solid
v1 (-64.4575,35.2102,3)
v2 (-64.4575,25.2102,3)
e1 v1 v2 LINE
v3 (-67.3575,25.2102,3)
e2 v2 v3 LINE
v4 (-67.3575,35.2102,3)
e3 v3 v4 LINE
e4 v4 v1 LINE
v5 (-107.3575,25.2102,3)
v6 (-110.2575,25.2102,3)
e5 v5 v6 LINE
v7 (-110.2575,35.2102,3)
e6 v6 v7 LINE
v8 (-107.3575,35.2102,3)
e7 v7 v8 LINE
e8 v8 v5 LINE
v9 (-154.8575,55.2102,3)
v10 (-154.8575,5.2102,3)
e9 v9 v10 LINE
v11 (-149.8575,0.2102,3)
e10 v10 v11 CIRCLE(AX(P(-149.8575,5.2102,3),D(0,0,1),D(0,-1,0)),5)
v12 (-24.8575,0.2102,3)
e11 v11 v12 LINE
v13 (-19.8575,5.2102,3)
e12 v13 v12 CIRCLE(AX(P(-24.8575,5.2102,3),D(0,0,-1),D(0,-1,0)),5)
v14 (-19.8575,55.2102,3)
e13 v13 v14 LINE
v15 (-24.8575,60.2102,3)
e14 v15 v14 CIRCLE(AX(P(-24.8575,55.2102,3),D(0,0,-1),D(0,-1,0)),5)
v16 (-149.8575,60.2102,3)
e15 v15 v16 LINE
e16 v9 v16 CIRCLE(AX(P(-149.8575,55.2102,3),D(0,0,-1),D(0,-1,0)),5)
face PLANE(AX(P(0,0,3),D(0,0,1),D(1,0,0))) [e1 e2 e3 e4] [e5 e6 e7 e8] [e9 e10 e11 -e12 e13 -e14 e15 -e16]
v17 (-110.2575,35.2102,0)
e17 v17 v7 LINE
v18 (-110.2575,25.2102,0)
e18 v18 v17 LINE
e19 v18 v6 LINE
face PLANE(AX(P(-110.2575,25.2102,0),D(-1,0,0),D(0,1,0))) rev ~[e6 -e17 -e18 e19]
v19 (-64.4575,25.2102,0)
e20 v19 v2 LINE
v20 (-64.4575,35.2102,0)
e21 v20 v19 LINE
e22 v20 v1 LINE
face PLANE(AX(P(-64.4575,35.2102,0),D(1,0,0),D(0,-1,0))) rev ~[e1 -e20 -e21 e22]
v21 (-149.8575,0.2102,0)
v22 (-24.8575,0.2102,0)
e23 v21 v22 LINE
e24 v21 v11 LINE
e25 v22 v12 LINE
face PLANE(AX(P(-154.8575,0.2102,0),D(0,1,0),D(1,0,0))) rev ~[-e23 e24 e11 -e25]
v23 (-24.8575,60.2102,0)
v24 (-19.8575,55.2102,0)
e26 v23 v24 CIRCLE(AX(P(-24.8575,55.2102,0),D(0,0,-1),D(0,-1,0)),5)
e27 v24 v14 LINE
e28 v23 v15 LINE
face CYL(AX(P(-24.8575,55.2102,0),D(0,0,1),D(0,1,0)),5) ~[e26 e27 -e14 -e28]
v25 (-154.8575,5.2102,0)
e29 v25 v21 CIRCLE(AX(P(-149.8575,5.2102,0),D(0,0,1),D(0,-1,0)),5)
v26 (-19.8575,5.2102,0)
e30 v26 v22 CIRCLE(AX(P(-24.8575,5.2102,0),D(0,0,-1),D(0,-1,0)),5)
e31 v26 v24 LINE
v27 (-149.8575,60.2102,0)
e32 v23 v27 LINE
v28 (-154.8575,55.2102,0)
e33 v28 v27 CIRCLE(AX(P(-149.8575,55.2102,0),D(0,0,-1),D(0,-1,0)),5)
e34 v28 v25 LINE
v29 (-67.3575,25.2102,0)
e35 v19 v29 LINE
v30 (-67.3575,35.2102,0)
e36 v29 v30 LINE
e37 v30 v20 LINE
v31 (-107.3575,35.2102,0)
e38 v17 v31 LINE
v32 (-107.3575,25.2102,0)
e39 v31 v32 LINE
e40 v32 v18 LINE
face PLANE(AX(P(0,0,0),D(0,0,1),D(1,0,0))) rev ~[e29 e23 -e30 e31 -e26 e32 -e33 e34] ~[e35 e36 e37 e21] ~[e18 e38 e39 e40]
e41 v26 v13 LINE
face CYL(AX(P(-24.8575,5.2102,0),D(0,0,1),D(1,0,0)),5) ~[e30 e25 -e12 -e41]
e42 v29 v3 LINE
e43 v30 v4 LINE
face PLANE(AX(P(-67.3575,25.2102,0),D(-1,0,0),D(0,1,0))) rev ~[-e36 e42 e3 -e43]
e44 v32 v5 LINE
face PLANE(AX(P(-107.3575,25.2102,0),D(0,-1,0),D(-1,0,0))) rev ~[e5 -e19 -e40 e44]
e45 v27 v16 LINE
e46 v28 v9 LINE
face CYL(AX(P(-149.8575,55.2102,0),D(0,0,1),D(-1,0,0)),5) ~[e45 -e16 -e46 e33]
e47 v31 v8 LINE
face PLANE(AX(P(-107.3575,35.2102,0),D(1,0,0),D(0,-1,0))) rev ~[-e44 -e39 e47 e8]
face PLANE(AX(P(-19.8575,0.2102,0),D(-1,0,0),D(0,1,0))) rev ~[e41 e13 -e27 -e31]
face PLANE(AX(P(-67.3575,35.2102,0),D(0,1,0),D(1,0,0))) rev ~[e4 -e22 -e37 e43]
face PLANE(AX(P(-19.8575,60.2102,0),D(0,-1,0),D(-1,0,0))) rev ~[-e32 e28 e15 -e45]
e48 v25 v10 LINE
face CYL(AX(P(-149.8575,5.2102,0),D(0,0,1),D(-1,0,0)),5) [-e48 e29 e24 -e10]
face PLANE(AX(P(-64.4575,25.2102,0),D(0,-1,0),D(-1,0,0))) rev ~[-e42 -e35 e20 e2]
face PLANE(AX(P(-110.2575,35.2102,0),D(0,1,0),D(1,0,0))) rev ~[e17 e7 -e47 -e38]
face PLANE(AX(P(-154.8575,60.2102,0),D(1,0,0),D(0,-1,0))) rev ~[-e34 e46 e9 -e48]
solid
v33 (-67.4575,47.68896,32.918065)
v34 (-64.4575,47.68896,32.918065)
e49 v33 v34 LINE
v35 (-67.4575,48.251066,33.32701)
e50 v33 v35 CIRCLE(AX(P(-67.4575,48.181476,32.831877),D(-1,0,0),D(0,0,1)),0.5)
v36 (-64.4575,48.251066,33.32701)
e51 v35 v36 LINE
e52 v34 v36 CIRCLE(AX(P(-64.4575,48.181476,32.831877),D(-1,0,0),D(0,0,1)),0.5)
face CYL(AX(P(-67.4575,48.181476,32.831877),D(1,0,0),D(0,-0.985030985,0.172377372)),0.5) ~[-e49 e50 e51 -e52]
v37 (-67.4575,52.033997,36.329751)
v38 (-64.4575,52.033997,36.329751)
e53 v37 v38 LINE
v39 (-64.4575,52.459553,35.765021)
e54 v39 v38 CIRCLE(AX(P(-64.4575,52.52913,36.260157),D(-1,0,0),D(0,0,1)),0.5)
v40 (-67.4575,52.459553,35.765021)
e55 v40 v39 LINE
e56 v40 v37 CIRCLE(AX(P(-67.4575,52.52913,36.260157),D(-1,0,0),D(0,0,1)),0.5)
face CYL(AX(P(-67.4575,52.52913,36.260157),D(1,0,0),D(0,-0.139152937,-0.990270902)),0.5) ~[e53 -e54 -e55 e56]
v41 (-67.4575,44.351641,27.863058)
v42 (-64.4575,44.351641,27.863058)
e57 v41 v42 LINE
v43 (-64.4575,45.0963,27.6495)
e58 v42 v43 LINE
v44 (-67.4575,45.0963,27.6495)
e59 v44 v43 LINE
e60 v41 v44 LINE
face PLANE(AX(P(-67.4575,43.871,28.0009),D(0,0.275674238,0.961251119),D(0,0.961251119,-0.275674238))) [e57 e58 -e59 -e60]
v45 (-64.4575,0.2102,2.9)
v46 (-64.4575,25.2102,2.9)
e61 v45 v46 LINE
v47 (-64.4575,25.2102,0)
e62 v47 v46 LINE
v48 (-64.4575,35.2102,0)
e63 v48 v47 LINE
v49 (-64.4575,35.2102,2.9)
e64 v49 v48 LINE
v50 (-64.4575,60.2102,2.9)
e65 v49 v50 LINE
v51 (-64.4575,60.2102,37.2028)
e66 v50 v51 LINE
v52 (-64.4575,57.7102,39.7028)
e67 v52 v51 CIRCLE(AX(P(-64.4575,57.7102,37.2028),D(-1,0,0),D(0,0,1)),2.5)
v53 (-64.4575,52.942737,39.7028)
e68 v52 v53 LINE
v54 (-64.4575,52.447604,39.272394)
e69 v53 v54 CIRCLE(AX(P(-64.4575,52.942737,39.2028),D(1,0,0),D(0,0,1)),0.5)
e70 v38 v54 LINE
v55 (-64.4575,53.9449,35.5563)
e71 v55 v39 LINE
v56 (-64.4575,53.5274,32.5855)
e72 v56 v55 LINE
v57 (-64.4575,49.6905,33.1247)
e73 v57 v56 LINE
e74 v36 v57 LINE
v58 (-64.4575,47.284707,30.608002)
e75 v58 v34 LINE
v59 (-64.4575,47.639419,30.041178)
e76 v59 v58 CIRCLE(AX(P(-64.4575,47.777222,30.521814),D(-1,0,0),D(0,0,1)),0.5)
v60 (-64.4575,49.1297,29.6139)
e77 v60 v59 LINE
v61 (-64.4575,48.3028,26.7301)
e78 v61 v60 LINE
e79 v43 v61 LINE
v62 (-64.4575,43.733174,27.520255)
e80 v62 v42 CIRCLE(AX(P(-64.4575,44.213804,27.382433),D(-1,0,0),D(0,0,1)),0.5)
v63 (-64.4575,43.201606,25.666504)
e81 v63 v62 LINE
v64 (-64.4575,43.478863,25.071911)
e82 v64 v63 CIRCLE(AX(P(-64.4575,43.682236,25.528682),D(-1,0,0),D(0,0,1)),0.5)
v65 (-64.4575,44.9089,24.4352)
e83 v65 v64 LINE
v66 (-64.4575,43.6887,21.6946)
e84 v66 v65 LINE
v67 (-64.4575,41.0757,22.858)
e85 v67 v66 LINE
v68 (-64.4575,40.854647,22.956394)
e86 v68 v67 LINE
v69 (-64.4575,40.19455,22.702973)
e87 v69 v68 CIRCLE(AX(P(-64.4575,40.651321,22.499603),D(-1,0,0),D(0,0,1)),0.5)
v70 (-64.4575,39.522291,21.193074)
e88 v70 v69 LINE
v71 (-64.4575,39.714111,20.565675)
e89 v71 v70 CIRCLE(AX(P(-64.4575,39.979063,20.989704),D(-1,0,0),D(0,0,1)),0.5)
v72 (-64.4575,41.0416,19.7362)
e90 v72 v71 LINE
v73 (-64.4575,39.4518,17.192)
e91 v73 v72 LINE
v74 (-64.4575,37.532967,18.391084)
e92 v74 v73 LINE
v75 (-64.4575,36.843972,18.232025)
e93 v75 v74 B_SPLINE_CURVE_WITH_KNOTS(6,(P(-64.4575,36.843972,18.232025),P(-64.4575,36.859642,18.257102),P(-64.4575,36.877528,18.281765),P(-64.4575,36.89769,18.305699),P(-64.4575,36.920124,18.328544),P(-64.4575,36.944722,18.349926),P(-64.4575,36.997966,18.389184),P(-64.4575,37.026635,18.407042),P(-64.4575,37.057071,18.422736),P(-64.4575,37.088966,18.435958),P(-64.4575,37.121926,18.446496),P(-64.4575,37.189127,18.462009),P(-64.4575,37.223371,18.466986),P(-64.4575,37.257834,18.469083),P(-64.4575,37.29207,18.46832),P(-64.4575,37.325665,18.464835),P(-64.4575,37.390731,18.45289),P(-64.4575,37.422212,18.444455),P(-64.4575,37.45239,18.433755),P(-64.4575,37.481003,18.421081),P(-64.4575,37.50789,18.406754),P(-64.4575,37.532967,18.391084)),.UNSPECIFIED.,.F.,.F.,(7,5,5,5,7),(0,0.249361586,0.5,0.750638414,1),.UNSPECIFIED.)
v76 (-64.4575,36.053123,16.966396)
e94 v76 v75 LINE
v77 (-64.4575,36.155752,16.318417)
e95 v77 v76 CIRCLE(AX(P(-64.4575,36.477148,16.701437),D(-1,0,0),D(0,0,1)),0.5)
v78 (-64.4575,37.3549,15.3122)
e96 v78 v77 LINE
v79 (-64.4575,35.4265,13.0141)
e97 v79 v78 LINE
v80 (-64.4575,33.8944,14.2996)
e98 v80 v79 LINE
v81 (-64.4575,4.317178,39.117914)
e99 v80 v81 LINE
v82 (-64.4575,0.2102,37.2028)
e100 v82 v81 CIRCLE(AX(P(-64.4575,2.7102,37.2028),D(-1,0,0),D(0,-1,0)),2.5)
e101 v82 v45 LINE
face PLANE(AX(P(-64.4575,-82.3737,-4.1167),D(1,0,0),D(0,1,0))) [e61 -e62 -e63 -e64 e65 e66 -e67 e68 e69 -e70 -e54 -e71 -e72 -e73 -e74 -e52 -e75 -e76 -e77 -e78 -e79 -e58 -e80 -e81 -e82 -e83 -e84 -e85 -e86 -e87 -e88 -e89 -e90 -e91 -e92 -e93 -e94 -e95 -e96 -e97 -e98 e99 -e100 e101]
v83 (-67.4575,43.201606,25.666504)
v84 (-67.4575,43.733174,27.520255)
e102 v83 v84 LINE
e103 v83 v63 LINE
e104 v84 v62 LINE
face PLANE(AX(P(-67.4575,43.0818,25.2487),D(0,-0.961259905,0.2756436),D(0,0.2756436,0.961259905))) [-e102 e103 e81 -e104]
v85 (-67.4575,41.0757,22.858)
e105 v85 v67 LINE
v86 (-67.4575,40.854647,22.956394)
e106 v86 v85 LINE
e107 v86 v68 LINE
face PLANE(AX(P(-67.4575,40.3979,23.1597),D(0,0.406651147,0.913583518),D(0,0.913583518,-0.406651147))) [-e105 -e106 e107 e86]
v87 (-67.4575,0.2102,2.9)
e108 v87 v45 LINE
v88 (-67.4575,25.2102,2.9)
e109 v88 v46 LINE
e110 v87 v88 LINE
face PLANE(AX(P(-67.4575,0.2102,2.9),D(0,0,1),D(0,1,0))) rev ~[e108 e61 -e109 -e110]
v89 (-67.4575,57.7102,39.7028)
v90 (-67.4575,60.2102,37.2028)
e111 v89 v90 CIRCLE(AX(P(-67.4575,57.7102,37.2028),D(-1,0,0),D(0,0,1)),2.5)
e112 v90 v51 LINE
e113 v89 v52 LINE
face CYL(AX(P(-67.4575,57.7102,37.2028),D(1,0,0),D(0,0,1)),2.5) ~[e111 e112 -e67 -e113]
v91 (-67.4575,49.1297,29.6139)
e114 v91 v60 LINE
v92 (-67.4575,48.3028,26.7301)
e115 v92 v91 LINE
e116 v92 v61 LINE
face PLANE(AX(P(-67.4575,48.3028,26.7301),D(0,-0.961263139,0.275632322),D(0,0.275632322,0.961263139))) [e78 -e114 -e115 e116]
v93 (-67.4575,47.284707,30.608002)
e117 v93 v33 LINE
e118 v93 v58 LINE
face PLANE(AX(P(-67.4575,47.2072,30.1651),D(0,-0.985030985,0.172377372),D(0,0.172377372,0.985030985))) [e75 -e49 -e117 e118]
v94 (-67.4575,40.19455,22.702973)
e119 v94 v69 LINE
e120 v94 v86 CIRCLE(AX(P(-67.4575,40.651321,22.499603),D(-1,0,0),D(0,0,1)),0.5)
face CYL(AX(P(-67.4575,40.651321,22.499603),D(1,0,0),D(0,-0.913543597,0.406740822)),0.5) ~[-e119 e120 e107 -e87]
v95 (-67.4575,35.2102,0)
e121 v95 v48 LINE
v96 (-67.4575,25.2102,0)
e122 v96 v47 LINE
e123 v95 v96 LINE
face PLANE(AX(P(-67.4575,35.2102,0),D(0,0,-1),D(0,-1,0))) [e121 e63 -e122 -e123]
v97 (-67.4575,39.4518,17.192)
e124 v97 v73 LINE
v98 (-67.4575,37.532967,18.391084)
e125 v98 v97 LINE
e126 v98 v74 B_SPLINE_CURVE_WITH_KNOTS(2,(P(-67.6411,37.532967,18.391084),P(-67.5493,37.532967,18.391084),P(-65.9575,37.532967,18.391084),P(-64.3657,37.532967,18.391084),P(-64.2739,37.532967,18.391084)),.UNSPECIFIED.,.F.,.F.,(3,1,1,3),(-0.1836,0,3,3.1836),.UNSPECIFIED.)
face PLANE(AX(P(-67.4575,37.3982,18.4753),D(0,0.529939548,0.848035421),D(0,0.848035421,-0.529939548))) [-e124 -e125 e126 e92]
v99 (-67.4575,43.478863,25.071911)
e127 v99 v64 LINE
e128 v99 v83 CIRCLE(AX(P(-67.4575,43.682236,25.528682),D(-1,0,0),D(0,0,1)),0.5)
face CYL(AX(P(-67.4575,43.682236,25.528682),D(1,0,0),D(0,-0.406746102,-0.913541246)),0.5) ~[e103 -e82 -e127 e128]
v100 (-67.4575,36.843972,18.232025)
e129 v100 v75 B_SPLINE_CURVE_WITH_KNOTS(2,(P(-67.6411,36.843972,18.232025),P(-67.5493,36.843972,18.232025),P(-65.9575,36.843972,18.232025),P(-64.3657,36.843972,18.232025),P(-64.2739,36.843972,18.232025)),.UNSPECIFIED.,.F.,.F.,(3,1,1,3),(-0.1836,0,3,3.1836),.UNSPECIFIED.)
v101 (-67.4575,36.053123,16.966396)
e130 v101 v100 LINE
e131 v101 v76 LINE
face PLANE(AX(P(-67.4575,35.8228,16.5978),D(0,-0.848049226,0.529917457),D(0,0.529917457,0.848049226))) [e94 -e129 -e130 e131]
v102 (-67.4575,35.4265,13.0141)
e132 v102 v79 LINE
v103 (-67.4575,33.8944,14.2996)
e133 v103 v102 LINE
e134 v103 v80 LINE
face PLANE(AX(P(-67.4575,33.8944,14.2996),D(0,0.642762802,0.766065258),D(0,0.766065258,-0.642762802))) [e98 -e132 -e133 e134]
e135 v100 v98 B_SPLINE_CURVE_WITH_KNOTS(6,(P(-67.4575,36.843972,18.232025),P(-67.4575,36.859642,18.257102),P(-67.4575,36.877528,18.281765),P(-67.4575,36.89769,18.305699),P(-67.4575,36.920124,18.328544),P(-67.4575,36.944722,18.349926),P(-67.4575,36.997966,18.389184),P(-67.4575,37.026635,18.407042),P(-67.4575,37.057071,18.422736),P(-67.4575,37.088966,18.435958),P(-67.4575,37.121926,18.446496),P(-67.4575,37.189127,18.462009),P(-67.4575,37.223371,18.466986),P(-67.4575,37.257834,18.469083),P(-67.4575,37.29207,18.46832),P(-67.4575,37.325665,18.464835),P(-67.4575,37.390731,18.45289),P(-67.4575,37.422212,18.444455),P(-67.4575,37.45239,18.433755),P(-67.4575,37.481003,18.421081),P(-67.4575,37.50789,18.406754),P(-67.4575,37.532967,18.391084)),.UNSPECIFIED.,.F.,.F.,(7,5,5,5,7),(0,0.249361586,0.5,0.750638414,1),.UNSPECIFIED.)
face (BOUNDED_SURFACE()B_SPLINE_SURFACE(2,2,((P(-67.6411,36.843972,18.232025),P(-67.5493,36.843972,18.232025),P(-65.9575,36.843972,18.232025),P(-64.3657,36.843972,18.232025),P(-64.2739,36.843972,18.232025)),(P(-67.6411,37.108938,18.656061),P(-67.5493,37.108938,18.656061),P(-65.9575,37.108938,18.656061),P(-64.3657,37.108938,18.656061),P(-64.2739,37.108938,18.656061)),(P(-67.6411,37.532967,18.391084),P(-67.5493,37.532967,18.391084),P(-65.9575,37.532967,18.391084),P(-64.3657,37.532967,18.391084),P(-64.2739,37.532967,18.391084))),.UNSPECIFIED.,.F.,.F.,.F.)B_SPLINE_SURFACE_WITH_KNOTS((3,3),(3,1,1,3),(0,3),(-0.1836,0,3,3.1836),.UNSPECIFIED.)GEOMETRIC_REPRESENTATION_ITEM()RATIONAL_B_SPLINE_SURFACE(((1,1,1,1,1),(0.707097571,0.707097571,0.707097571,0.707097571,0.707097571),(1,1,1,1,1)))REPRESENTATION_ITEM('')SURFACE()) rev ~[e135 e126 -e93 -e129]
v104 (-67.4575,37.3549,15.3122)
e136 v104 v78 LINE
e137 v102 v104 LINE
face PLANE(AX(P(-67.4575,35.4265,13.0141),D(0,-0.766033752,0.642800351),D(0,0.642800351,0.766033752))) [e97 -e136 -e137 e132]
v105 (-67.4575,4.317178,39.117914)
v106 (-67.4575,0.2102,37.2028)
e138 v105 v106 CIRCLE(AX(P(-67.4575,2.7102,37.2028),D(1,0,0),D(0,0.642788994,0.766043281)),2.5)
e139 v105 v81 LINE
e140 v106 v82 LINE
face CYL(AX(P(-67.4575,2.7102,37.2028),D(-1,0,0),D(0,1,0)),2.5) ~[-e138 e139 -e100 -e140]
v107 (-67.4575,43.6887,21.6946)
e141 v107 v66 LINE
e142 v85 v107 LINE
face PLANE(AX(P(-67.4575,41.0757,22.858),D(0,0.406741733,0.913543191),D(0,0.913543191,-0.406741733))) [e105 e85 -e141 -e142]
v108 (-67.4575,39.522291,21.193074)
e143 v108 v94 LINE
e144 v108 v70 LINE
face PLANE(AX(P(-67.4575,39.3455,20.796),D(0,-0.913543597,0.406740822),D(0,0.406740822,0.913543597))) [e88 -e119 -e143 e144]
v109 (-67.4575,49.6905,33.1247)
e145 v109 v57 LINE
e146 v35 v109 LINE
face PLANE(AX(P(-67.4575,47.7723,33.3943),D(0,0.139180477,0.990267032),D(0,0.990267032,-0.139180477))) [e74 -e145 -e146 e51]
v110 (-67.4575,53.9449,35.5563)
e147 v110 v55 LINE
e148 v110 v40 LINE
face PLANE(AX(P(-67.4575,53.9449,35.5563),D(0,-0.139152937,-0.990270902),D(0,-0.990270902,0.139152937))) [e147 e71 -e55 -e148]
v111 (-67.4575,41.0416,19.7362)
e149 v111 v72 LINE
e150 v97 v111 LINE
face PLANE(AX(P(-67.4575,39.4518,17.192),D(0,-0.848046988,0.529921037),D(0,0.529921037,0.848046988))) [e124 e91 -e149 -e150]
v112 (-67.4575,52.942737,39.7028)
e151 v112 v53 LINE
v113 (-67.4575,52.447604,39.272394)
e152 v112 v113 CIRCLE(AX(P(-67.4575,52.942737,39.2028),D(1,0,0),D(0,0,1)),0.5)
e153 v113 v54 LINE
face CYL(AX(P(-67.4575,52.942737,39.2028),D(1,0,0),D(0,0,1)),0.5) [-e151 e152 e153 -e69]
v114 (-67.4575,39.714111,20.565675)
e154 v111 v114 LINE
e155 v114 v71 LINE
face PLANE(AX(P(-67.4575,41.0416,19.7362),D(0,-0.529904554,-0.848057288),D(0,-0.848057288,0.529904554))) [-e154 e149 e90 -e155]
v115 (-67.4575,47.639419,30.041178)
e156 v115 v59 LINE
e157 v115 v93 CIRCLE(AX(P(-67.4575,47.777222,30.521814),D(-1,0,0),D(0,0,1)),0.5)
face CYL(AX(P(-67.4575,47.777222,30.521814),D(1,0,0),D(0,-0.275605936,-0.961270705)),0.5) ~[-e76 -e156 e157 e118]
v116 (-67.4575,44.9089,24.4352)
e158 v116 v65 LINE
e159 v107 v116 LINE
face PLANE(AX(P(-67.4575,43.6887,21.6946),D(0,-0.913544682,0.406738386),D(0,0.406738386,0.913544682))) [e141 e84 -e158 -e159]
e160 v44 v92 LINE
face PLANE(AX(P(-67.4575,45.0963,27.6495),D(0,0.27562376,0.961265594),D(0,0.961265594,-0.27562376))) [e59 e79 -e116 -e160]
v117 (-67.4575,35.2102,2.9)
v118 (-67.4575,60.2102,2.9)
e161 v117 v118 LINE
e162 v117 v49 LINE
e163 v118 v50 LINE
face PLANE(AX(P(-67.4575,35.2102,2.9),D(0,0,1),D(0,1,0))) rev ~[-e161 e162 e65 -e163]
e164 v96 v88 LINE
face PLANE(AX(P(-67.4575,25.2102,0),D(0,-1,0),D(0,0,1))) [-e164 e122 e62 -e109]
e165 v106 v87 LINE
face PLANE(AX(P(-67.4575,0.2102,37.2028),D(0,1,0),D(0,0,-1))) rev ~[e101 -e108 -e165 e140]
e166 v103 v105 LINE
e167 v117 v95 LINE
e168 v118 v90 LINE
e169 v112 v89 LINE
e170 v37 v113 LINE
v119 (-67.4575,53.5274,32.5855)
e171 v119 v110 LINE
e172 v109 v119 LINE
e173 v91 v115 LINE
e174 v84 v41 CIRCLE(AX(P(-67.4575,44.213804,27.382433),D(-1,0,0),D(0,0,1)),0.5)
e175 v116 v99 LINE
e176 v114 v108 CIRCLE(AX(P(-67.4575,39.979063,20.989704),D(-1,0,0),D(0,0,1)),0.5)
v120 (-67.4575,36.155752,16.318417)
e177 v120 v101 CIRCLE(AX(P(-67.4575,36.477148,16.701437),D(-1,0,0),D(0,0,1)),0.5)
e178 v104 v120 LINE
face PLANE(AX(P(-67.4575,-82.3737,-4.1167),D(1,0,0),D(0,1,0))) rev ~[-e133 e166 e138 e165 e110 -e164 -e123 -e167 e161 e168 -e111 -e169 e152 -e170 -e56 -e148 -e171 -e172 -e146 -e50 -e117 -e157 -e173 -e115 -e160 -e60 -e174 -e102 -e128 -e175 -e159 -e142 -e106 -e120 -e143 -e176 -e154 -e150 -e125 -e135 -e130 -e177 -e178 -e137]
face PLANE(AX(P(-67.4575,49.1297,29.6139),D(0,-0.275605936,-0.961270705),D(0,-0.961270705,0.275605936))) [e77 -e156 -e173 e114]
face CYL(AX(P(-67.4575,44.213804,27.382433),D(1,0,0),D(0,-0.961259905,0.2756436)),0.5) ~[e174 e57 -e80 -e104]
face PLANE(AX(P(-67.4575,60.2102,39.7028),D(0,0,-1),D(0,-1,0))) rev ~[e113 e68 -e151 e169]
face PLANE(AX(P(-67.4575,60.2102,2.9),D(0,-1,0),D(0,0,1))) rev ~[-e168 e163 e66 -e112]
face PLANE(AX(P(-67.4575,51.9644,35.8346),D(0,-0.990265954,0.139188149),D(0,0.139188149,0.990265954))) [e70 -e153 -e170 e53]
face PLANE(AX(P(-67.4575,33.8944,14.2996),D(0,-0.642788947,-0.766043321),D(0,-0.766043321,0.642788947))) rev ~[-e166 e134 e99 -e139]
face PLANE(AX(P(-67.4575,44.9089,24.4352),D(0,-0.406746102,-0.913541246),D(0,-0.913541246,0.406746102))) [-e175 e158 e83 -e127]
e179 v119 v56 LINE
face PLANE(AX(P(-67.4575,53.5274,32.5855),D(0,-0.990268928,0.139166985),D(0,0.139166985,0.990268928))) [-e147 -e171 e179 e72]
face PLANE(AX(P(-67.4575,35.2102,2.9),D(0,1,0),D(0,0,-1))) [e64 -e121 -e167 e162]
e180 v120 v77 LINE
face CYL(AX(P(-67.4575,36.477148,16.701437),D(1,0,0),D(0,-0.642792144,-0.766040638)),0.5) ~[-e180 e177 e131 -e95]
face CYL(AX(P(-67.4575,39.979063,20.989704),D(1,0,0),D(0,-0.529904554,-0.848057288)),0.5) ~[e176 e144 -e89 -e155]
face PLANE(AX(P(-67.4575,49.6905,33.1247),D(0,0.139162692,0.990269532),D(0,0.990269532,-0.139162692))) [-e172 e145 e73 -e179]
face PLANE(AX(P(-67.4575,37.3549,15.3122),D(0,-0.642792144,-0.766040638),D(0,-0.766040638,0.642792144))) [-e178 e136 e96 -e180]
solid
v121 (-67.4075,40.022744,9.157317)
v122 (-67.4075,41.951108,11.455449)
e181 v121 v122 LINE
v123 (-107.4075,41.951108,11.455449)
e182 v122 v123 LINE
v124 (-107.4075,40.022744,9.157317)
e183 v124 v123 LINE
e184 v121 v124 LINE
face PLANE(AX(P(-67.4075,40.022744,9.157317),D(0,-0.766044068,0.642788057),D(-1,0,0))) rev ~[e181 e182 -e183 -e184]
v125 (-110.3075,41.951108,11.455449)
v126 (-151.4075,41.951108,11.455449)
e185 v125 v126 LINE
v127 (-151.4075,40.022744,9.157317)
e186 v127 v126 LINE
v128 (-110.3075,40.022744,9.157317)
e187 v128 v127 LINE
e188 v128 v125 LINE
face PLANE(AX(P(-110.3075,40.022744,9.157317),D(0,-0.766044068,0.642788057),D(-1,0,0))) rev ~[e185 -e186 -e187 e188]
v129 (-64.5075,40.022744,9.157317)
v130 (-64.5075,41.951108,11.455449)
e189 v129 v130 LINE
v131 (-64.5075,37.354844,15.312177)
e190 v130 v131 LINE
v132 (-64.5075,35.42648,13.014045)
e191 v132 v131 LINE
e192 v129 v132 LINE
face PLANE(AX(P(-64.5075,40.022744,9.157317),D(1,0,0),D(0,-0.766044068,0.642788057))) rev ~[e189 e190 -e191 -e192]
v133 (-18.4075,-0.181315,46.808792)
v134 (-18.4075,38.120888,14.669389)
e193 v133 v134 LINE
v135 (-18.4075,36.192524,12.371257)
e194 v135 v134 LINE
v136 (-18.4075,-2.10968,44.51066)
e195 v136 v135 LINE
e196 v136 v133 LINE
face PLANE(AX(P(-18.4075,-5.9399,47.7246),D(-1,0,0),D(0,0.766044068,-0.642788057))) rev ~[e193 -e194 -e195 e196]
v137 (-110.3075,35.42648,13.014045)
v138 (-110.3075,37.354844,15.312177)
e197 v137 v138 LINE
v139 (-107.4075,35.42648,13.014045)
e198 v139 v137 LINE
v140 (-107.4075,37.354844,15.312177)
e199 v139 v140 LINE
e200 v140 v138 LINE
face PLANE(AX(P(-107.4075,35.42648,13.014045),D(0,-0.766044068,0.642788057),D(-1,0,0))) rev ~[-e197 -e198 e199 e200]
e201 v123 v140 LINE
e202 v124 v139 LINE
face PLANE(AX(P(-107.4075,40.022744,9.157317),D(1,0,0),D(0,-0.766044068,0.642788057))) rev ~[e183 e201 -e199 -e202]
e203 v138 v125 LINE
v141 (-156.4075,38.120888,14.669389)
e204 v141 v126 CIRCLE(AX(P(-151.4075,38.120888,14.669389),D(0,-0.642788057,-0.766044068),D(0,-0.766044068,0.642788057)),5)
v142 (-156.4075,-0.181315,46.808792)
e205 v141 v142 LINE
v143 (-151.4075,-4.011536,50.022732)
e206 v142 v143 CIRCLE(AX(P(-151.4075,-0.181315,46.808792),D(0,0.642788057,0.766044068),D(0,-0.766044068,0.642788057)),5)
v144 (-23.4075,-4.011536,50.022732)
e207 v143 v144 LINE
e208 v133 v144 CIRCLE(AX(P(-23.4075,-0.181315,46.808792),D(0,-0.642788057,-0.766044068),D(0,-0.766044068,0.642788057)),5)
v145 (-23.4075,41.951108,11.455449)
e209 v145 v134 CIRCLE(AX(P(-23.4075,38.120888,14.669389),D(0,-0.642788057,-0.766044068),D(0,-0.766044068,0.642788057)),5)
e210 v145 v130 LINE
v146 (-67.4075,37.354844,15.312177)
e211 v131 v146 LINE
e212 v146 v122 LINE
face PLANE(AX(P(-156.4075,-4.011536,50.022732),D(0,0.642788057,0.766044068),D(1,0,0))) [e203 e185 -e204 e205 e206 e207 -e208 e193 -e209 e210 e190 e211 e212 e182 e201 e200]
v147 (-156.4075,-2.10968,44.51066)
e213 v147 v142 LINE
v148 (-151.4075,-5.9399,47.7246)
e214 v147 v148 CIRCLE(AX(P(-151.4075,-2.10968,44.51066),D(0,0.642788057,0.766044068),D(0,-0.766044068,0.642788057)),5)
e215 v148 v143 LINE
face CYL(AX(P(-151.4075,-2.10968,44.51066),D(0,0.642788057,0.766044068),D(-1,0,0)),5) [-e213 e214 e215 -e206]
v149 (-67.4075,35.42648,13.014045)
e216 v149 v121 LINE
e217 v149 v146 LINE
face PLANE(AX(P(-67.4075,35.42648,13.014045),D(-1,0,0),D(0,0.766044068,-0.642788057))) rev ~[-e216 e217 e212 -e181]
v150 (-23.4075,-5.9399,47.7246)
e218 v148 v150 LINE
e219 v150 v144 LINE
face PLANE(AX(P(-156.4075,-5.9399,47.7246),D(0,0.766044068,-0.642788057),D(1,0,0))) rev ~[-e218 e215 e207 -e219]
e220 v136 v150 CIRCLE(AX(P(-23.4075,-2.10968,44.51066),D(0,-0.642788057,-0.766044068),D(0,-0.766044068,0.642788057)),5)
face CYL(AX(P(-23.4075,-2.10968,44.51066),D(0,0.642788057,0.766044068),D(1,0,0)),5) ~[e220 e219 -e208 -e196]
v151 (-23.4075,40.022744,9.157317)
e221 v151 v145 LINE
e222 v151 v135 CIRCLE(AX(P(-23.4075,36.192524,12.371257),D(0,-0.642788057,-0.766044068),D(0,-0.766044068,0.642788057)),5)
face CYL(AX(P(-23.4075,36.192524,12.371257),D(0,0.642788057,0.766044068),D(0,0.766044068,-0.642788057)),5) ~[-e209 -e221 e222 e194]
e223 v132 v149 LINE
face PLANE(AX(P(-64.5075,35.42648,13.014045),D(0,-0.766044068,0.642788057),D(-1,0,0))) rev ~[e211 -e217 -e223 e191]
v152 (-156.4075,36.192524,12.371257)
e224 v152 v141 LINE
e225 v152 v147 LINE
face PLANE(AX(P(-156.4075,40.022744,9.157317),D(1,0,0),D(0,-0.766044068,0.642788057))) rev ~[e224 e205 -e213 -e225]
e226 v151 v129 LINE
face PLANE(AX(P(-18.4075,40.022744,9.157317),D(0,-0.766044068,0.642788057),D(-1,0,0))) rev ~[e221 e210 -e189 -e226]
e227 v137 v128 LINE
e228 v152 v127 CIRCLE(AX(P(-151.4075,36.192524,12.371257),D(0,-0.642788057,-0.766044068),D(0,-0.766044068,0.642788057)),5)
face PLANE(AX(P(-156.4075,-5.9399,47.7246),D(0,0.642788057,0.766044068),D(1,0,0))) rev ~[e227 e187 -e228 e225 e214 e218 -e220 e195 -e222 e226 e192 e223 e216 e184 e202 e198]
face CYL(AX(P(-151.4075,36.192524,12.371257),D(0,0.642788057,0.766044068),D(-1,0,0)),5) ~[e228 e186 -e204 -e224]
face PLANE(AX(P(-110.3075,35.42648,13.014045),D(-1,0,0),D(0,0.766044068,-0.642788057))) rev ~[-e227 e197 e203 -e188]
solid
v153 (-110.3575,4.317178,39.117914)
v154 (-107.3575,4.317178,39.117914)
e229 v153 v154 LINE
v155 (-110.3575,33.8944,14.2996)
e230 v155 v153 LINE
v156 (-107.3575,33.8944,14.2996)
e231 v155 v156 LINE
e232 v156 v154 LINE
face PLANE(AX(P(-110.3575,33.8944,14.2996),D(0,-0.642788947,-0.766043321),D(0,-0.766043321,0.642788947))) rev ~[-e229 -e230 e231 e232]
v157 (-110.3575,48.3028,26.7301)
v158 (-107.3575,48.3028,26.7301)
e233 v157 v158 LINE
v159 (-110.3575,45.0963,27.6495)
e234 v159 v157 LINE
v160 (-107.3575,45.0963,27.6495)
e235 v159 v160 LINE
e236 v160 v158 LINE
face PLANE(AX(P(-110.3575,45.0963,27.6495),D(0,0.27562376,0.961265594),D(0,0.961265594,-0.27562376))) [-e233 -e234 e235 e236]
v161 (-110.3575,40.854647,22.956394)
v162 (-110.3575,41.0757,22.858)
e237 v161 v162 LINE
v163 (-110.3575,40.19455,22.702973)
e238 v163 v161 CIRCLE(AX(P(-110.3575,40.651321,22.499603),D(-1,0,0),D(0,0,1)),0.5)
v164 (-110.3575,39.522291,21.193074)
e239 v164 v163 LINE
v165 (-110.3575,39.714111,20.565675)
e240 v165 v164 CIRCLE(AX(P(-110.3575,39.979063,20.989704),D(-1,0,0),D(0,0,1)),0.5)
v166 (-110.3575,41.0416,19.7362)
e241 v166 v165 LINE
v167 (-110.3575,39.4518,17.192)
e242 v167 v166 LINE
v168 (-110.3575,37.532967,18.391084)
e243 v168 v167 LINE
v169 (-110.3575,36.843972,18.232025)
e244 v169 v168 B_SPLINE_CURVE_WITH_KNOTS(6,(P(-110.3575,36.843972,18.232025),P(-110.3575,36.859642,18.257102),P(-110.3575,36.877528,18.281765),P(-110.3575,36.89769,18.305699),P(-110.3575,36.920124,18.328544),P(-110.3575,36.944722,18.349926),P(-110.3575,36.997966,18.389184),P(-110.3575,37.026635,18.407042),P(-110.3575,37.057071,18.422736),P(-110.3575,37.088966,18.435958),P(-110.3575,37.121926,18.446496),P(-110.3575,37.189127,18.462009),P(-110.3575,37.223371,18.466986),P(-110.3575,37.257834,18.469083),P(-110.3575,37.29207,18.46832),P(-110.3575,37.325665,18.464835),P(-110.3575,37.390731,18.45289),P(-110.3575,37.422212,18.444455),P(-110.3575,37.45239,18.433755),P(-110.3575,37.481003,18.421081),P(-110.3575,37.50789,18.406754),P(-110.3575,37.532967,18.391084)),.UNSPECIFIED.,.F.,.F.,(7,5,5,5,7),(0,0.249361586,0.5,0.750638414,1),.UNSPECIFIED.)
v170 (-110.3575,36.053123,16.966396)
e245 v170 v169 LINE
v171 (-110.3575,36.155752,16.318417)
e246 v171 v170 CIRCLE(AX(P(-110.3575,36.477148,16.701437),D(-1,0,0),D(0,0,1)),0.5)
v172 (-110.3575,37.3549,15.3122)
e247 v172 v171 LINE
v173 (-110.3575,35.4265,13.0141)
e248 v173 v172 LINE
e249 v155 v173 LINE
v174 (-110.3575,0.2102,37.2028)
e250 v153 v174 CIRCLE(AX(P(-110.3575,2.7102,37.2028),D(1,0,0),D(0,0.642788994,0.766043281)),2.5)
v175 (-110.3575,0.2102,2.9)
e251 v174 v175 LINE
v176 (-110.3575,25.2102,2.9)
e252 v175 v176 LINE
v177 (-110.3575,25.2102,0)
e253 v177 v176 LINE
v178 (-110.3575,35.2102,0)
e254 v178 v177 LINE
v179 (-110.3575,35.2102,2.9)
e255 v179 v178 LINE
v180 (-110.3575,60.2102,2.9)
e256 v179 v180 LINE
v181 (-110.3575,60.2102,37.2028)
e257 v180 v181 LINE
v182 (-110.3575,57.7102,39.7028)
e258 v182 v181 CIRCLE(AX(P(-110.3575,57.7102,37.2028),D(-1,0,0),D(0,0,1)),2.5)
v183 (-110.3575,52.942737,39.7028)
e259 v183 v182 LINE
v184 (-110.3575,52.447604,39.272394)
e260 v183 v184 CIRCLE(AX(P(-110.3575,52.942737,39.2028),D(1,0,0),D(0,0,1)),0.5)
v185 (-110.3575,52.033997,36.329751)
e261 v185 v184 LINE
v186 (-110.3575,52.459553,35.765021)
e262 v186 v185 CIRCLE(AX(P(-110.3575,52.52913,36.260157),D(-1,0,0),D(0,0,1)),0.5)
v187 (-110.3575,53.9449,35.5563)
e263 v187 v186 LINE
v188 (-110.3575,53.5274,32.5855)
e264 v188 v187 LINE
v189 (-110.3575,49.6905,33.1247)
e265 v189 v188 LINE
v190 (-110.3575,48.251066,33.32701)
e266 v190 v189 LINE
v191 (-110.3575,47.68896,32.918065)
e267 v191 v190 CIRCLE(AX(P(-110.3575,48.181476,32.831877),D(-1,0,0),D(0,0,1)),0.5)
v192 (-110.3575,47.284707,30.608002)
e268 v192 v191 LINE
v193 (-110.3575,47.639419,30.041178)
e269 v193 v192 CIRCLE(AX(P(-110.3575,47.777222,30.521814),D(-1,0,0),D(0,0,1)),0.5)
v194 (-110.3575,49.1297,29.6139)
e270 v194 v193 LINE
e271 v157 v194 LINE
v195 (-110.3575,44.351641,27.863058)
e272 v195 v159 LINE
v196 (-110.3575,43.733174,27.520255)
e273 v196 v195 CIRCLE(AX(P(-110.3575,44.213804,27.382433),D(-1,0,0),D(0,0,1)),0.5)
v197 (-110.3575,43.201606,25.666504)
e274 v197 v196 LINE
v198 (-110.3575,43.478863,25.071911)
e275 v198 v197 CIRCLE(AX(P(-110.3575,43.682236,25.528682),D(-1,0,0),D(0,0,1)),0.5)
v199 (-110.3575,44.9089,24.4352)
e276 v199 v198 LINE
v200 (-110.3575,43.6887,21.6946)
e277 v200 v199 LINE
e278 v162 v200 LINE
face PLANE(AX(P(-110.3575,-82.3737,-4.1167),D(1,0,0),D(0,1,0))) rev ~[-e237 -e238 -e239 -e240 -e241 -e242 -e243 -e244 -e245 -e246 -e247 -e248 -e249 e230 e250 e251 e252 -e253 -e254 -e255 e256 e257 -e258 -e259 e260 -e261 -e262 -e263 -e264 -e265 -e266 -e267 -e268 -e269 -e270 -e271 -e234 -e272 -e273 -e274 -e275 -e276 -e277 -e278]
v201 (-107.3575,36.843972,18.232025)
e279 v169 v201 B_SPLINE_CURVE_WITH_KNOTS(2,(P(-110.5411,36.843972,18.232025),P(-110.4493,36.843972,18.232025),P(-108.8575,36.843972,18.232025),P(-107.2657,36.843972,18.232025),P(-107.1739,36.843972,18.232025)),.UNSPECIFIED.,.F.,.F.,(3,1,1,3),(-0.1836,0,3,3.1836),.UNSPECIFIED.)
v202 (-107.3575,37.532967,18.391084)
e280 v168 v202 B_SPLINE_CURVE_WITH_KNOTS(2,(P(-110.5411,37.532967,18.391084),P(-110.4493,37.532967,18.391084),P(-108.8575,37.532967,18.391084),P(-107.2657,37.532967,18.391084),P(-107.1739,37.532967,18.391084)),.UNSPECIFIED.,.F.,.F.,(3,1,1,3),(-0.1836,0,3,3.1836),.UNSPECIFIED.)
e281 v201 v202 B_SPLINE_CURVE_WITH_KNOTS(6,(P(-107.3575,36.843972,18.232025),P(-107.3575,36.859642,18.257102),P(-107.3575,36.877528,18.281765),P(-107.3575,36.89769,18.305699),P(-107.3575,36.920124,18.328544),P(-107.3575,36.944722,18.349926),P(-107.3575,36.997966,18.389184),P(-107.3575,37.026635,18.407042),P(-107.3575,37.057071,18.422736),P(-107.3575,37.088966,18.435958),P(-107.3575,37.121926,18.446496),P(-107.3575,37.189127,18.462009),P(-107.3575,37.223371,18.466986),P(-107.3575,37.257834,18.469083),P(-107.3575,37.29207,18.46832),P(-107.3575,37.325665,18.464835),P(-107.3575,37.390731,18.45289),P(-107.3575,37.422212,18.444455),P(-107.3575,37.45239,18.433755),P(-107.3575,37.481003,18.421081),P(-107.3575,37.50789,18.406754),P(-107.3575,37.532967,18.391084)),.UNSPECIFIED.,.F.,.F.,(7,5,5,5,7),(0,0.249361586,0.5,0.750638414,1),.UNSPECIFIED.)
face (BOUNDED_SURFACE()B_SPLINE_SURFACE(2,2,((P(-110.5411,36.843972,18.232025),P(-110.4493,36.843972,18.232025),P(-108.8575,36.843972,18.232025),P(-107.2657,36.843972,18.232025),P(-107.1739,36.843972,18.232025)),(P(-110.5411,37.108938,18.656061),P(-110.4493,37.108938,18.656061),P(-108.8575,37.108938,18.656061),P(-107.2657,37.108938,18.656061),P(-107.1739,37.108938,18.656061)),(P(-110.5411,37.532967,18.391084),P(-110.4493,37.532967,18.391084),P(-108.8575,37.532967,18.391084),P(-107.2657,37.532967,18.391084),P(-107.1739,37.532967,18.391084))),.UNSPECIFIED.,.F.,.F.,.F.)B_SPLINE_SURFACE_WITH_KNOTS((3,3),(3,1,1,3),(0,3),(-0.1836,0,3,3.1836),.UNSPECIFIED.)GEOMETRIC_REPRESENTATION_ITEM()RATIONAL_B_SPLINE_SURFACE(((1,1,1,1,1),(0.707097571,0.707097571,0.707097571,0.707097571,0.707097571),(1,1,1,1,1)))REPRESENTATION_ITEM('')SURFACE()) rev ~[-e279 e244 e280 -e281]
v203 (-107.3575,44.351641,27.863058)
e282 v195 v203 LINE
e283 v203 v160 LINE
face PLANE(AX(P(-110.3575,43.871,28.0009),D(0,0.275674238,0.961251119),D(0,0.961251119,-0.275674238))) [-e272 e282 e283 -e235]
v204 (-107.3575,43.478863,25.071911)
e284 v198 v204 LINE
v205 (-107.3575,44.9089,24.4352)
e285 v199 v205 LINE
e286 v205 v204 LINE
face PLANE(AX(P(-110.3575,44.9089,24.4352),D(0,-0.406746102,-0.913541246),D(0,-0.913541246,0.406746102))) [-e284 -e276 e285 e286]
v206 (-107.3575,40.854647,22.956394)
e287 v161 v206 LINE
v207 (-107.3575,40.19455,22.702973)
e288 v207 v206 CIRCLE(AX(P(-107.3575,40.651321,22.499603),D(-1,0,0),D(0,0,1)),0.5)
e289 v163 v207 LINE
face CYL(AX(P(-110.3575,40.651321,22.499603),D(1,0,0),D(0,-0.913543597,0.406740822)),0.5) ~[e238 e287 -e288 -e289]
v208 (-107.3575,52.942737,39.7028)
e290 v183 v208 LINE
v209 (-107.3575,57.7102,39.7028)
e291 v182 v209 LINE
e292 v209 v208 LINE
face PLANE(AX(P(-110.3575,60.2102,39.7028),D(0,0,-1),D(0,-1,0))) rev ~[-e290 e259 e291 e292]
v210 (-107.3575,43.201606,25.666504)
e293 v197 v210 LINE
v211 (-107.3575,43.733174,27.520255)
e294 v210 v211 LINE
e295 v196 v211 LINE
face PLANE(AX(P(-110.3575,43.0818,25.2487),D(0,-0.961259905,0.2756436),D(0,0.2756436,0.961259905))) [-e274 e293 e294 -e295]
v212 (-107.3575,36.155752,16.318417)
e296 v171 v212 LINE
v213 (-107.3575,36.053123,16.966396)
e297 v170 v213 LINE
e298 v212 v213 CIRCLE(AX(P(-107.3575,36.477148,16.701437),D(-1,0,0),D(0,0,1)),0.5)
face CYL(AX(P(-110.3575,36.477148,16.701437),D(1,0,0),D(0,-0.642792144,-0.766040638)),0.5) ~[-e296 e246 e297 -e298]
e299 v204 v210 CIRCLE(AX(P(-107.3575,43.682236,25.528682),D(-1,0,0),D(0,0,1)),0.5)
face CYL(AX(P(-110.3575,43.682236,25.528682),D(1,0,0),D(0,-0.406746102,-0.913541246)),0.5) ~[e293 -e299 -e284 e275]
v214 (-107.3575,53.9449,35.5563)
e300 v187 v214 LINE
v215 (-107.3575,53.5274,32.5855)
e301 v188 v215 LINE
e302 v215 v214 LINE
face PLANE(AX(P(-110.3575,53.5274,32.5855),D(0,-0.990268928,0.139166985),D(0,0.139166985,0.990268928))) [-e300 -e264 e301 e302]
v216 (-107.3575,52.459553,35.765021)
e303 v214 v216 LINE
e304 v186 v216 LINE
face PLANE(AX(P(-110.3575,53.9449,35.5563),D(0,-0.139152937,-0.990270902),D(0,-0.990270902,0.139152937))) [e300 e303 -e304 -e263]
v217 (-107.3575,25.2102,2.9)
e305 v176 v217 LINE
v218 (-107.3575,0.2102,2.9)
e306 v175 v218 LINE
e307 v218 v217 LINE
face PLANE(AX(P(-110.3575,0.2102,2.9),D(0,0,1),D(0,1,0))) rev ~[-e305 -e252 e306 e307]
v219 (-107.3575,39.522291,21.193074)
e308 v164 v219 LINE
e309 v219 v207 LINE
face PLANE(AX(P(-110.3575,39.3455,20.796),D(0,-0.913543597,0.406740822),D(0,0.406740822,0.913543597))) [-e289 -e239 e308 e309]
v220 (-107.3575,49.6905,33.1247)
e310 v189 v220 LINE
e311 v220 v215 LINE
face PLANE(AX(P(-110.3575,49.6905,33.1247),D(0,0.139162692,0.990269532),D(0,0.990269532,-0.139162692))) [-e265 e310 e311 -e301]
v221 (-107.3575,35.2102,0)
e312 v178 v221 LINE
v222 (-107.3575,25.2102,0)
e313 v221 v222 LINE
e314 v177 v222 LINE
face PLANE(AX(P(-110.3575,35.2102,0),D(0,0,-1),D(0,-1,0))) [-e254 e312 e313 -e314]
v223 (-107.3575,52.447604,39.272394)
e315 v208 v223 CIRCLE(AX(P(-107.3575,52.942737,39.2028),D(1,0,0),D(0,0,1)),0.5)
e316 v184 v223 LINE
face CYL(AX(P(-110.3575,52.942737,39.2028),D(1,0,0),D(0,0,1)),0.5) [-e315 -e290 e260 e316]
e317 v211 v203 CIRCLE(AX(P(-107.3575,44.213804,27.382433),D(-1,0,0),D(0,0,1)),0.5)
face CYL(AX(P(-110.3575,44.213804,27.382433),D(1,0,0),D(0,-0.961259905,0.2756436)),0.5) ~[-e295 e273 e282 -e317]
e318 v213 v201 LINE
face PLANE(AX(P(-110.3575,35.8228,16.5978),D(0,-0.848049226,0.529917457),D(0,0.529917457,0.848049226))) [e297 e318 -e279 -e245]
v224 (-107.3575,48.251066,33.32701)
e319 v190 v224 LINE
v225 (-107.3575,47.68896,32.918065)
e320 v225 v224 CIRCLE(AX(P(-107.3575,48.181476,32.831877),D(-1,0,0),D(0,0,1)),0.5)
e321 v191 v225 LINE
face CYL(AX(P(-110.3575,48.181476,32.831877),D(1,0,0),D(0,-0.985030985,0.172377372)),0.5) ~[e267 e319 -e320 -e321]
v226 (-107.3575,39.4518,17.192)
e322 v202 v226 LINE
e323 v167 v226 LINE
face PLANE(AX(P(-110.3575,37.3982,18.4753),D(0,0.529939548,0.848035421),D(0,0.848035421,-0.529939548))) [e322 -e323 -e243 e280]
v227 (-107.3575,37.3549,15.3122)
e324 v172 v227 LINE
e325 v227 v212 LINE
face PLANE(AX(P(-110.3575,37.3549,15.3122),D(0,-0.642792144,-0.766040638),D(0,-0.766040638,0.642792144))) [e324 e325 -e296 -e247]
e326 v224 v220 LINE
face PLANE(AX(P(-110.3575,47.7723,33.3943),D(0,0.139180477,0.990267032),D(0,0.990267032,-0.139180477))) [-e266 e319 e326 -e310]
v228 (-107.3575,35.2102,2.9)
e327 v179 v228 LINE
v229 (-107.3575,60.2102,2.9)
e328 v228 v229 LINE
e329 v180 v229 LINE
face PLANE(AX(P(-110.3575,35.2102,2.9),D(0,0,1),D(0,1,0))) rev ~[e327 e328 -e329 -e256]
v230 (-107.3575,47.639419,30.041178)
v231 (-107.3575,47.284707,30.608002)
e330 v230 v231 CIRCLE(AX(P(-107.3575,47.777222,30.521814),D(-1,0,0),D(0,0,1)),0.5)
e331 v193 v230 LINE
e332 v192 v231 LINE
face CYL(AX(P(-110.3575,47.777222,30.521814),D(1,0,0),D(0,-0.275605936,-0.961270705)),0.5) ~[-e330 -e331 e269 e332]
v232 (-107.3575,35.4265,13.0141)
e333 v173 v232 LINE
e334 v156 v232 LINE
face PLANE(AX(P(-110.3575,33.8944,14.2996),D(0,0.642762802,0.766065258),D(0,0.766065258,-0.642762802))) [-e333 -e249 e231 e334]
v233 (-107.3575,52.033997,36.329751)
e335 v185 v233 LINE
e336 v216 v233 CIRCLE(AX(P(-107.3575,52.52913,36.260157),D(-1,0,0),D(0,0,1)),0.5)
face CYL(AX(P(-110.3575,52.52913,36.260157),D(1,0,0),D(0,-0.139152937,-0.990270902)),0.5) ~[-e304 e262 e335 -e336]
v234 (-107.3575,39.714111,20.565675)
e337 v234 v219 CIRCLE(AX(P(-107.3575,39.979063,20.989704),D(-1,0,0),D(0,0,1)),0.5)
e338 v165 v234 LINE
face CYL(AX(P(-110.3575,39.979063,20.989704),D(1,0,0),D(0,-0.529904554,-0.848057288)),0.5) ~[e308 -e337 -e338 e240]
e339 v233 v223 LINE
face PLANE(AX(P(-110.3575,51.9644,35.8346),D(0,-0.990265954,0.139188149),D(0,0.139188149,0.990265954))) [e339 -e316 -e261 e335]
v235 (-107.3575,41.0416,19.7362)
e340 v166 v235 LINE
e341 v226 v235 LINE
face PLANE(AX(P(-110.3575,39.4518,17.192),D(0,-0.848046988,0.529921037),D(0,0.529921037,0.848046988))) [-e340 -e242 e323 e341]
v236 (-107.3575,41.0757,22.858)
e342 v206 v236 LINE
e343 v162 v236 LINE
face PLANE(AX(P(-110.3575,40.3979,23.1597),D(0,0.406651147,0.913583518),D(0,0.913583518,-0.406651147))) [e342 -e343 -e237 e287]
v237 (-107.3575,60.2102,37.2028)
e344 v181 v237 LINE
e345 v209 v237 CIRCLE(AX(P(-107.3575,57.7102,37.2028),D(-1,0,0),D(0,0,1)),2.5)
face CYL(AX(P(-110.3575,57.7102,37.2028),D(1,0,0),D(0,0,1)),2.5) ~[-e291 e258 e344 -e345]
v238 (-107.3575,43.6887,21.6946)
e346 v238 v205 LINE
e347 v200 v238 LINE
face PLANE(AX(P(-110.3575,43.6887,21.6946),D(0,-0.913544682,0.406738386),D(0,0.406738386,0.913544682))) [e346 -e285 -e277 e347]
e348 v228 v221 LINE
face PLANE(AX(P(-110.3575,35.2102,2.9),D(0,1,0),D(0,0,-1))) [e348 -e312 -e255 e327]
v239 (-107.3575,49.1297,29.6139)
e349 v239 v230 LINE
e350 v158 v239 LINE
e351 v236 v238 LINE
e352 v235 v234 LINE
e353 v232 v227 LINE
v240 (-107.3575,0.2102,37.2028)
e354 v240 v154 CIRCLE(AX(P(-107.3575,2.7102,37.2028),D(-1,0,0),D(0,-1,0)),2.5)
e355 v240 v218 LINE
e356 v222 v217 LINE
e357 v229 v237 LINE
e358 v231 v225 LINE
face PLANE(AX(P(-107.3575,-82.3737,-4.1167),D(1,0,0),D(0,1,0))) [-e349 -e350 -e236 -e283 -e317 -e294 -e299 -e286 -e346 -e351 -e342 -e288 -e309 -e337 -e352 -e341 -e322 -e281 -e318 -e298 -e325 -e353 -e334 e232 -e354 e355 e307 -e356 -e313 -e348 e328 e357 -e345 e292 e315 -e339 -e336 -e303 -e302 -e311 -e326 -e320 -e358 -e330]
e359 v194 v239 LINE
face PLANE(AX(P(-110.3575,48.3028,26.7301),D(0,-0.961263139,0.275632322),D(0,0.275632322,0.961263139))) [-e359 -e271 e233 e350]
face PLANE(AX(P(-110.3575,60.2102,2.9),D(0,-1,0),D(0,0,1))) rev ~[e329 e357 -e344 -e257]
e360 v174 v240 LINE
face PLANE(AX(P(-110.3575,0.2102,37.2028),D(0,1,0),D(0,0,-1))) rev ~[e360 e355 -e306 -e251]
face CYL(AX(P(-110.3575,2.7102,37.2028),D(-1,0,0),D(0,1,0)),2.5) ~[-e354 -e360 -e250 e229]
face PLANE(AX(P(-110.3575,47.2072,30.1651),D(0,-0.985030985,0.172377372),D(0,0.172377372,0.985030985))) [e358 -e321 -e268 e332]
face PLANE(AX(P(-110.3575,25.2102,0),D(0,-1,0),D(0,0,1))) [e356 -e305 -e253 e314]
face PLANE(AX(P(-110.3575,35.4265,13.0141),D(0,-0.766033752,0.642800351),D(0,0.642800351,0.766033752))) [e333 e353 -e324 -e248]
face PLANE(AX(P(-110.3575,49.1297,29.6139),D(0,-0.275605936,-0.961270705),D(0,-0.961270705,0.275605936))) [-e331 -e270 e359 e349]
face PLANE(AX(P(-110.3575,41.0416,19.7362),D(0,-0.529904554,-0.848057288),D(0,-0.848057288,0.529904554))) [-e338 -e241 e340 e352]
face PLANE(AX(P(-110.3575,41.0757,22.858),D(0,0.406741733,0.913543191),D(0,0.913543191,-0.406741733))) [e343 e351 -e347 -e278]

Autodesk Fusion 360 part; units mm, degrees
sketch "スケッチ1" plane through (0, 0, 0) normal (0, 0, 1) x (1, 0, 0) in component "top1"
  line L0 (0, 0) -> (138, 0)
  line L1 (138, 0) -> (138, 60)
  line L2 (138, 60) -> (0, 60)
  line L3 (0, 60) -> (0, 0)
  line L4 (46.1, 60) -> (49, 60)
  line L5 (49, 60) -> (49, 54)
  line L6 (49, 54) -> (46.1, 54)
  line L7 (46.1, 54) -> (46.1, 60)
  line L8 (89, 60) -> (91.9, 60)
  line L9 (91.9, 60) -> (91.9, 54)
  line L10 (91.9, 54) -> (89, 54)
  line L11 (89, 54) -> (89, 60)
  line L12 (0, 60) -> (46.1, 54) construction
  line L13 (91.9, 54) -> (138, 60) construction
  line L14 (49, 54) -> (89, 54) construction
  dimension "d1" = 138
  dimension "d2" = 60
  dimension "d52" = 2.9
  dimension "d53" = 6
  dimension "d54" = 40
extrude "押し出し1" add sketch "スケッチ1" along normal blind 3 contours L0 L1 L2 L3 L5 L6 L7 L9 L10 L11 makes body 1 in component "top1"
sketch "スケッチ1 (2)" plane through (0, 0, 0) normal (0, 0, 1) x (1, 0, 0) in component "base1"
  line L0 (-154.8575, 0.2102) -> (-19.8575, 0.2102)
  line L1 (-19.8575, 0.2102) -> (-19.8575, 60.2102)
  line L2 (-19.8575, 60.2102) -> (-154.8575, 60.2102)
  line L3 (-154.8575, 60.2102) -> (-154.8575, 0.2102)
  line L4 (-110.2575, 35.2102) -> (-107.3575, 35.2102)
  line L5 (-107.3575, 35.2102) -> (-107.3575, 25.2102)
  line L6 (-107.3575, 25.2102) -> (-110.2575, 25.2102)
  line L7 (-110.2575, 25.2102) -> (-110.2575, 35.2102)
  line L8 (-67.3575, 35.2102) -> (-64.4575, 35.2102)
  line L9 (-64.4575, 35.2102) -> (-64.4575, 25.2102)
  line L10 (-64.4575, 25.2102) -> (-67.3575, 25.2102)
  line L11 (-67.3575, 25.2102) -> (-67.3575, 35.2102)
  line L12 (-110.2575, 30.2102) -> (-154.8575, 30.2102) construction
  line L13 (-64.4575, 30.2102) -> (-19.8575, 30.2102) construction
  line L14 (-107.3575, 30.2102) -> (-67.3575, 30.2102) construction
  dimension "d5" = 135
  dimension "d6" = 60
  dimension "d45" = 10
  dimension "d46" = 2.9
  dimension "d47" = 40
extrude "押し出し1'" add sketch "スケッチ1 (2)" along normal blind 3 separate body makes body 2 in component "base1"
sketch "スケッチ1 (3)" plane through (0, 0, 0) normal (1, 0, 0) x (0, 1, 0) in component "leg1"
  line L0 (82.5839, 7.0167) -> (142.5839, 7.0167)
  line L1 (142.5839, 7.0167) -> (142.5839, 43.8195)
  line L2 (142.5839, 43.8195) -> (82.5839, 43.8195)
  line L3 (82.5839, 43.8195) -> (82.5839, 7.0167)
  line L4 (116.2681, 18.4163) -> (82.5839, 46.6808)
  line L5 (107.5839, 7.0167) -> (117.5839, 7.0167)
  line L6 (117.5839, 7.0167) -> (117.5839, 4.1167)
  line L7 (117.5839, 4.1167) -> (107.5839, 4.1167)
  line L8 (107.5839, 4.1167) -> (107.5839, 7.0167)
  line L9 (112.5839, 4.1167) -> (112.5839, 7.0167) construction
  line L10 (83.1719, 45.4622) -> (119.7719, 22.592) construction
  line L11 (116.2681, 18.4163) -> (117.8002, 17.1308)
  line L12 (117.8002, 17.1308) -> (119.7286, 19.4289)
  line L13 (119.7286, 19.4289) -> (118.1965, 20.7145)
  line L14 (83.1268, 44.9274) -> (123.4494, 26.9747) construction
  line L15 (119.7719, 22.592) -> (121.8255, 21.3087)
  line L16 (121.8255, 21.3087) -> (123.4153, 23.8529)
  line L17 (123.4153, 23.8529) -> (121.7192, 24.9127)
  line L18 (82.9195, 44.5409) -> (127.47, 31.7662) construction
  line L19 (123.4494, 26.9747) -> (126.0624, 25.8113)
  line L20 (126.0624, 25.8113) -> (127.2826, 28.5519)
  line L21 (127.2826, 28.5519) -> (125.4555, 29.3654)
  line L22 (127.47, 31.7662) -> (130.6765, 30.8468)
  line L23 (116.2681, 18.4163) -> (137.5839, 43.8195)
  line L24 (82.5839, 44.1954) -> (132.0642, 37.2414) construction
  line L25 (132.0642, 37.2414) -> (135.9011, 36.7022)
  line L26 (135.9011, 36.7022) -> (136.3186, 39.673)
  line L27 (136.3186, 39.673) -> (134.3381, 39.9513)
  circle A0 centre (85.0839, 41.3195) radius 2.5
  line L28 (118.1965, 20.7145) -> (119.4826, 22.7727)
  line L29 (121.7192, 24.9127) -> (122.7716, 27.2764)
  line L30 (122.7716, 27.2764) -> (123.4494, 26.9747)
  line L31 (125.4555, 29.3654) -> (126.2447, 32.1176)
  line L32 (126.2447, 32.1176) -> (127.47, 31.7662)
  line L33 (130.146, 37.511) -> (132.0642, 37.2414)
  line L34 (134.3381, 39.9513) -> (134.8818, 43.8195)
  line L35 (119.4826, 22.7727) -> (119.7719, 22.592)
  line L36 (130.6765, 30.8468) -> (131.5034, 33.7306)
  line L37 (131.5034, 33.7306) -> (129.5809, 34.2818)
  line L38 (129.5809, 34.2818) -> (130.146, 37.511)
  dimension "d16" = 10
  dimension "d17" = 2.9
  dimension "d26" = 3
  dimension "d27" = 8
  dimension "d28" = 8
  dimension "d29" = 8
  dimension "d36" = 2
  dimension "d40" = 60
  dimension "d41" = 5
  dimension "d63" = 8
  dimension "d68" = 5
  dimension "d81" = 8
extrude "押し出し1''" add sketch "スケッチ1 (3)" along normal blind 3 separate body contours L0 L1 L2 L3 L4 L5 L11 L12 L13 L15 L16 L17 L19 L20 L21 L22 L23 L25 L26 L27 A0 L36 L37 | L0 L5 L6 L7 L8 | A0 | L2 L23 L34 | L23 L28 L35 | L23 L33 L38 | L23 L29 L30 | L23 L31 L32 makes body 3 in component "leg1"
fillet "フィレット1" radius 5 4 edges at (-154.8575, 0.2102, 1.5) (-19.8575, 0.2102, 1.5) (-154.8575, 60.2102, 1.5) (-19.8575, 60.2102, 1.5) on bodies 2 in component "base1"
fillet "フィレット1'" radius 5 4 edges at (0, 0, 1.5) (0, 60, 1.5) (138, 0, 1.5) (138, 60, 1.5) on bodies 1 in component "top1"
fillet "フィレット2" radius 2.5 1 edges at (1.5, 142.5839, 43.8195) on bodies 3 in component "leg1"
fillet "フィレット2" radius 0.5 10 edges at (1.5, 134.8818, 43.8195) (1.5, 134.3381, 39.9513) (1.5, 130.146, 37.511) (1.5, 129.5809, 34.2818) (1.5, 126.2447, 32.1176) (1.5, 125.4555, 29.3654) (1.5, 122.7716, 27.2764) (1.5, 121.7192, 24.9127) (1.5, 119.4826, 22.7727) (1.5, 118.1965, 20.7145) on bodies 3 in component "leg1"
component "top1" placed x (1, 0, 0) y (0, 0.766044, -0.642788) z (0, 0.642788, 0.766044) at (-156.4075, -5.9399, 47.7246)
component "base1" placed x (1, 0, 0) y (0, 1, 0) z (0, 0, 1) at (0, 0, 0)
component "leg1" placed x (1, 0, 0) y (0, 1, 0) z (0, 0, 1) at (-67.4575, -82.3737, -4.1167)
component "leg1" placed x (1, 0, 0) y (0, 1, 0) z (0, 0, 1) at (-110.3575, -82.3737, -4.1167)
equation "d17 = d46"
equation "d27 = d63"
equation "d28 = d63"
equation "d29 = d63"
equation "d40 = d2"
equation "d46 = d52"
equation "d47 = d54"
equation "d81 = d63"
